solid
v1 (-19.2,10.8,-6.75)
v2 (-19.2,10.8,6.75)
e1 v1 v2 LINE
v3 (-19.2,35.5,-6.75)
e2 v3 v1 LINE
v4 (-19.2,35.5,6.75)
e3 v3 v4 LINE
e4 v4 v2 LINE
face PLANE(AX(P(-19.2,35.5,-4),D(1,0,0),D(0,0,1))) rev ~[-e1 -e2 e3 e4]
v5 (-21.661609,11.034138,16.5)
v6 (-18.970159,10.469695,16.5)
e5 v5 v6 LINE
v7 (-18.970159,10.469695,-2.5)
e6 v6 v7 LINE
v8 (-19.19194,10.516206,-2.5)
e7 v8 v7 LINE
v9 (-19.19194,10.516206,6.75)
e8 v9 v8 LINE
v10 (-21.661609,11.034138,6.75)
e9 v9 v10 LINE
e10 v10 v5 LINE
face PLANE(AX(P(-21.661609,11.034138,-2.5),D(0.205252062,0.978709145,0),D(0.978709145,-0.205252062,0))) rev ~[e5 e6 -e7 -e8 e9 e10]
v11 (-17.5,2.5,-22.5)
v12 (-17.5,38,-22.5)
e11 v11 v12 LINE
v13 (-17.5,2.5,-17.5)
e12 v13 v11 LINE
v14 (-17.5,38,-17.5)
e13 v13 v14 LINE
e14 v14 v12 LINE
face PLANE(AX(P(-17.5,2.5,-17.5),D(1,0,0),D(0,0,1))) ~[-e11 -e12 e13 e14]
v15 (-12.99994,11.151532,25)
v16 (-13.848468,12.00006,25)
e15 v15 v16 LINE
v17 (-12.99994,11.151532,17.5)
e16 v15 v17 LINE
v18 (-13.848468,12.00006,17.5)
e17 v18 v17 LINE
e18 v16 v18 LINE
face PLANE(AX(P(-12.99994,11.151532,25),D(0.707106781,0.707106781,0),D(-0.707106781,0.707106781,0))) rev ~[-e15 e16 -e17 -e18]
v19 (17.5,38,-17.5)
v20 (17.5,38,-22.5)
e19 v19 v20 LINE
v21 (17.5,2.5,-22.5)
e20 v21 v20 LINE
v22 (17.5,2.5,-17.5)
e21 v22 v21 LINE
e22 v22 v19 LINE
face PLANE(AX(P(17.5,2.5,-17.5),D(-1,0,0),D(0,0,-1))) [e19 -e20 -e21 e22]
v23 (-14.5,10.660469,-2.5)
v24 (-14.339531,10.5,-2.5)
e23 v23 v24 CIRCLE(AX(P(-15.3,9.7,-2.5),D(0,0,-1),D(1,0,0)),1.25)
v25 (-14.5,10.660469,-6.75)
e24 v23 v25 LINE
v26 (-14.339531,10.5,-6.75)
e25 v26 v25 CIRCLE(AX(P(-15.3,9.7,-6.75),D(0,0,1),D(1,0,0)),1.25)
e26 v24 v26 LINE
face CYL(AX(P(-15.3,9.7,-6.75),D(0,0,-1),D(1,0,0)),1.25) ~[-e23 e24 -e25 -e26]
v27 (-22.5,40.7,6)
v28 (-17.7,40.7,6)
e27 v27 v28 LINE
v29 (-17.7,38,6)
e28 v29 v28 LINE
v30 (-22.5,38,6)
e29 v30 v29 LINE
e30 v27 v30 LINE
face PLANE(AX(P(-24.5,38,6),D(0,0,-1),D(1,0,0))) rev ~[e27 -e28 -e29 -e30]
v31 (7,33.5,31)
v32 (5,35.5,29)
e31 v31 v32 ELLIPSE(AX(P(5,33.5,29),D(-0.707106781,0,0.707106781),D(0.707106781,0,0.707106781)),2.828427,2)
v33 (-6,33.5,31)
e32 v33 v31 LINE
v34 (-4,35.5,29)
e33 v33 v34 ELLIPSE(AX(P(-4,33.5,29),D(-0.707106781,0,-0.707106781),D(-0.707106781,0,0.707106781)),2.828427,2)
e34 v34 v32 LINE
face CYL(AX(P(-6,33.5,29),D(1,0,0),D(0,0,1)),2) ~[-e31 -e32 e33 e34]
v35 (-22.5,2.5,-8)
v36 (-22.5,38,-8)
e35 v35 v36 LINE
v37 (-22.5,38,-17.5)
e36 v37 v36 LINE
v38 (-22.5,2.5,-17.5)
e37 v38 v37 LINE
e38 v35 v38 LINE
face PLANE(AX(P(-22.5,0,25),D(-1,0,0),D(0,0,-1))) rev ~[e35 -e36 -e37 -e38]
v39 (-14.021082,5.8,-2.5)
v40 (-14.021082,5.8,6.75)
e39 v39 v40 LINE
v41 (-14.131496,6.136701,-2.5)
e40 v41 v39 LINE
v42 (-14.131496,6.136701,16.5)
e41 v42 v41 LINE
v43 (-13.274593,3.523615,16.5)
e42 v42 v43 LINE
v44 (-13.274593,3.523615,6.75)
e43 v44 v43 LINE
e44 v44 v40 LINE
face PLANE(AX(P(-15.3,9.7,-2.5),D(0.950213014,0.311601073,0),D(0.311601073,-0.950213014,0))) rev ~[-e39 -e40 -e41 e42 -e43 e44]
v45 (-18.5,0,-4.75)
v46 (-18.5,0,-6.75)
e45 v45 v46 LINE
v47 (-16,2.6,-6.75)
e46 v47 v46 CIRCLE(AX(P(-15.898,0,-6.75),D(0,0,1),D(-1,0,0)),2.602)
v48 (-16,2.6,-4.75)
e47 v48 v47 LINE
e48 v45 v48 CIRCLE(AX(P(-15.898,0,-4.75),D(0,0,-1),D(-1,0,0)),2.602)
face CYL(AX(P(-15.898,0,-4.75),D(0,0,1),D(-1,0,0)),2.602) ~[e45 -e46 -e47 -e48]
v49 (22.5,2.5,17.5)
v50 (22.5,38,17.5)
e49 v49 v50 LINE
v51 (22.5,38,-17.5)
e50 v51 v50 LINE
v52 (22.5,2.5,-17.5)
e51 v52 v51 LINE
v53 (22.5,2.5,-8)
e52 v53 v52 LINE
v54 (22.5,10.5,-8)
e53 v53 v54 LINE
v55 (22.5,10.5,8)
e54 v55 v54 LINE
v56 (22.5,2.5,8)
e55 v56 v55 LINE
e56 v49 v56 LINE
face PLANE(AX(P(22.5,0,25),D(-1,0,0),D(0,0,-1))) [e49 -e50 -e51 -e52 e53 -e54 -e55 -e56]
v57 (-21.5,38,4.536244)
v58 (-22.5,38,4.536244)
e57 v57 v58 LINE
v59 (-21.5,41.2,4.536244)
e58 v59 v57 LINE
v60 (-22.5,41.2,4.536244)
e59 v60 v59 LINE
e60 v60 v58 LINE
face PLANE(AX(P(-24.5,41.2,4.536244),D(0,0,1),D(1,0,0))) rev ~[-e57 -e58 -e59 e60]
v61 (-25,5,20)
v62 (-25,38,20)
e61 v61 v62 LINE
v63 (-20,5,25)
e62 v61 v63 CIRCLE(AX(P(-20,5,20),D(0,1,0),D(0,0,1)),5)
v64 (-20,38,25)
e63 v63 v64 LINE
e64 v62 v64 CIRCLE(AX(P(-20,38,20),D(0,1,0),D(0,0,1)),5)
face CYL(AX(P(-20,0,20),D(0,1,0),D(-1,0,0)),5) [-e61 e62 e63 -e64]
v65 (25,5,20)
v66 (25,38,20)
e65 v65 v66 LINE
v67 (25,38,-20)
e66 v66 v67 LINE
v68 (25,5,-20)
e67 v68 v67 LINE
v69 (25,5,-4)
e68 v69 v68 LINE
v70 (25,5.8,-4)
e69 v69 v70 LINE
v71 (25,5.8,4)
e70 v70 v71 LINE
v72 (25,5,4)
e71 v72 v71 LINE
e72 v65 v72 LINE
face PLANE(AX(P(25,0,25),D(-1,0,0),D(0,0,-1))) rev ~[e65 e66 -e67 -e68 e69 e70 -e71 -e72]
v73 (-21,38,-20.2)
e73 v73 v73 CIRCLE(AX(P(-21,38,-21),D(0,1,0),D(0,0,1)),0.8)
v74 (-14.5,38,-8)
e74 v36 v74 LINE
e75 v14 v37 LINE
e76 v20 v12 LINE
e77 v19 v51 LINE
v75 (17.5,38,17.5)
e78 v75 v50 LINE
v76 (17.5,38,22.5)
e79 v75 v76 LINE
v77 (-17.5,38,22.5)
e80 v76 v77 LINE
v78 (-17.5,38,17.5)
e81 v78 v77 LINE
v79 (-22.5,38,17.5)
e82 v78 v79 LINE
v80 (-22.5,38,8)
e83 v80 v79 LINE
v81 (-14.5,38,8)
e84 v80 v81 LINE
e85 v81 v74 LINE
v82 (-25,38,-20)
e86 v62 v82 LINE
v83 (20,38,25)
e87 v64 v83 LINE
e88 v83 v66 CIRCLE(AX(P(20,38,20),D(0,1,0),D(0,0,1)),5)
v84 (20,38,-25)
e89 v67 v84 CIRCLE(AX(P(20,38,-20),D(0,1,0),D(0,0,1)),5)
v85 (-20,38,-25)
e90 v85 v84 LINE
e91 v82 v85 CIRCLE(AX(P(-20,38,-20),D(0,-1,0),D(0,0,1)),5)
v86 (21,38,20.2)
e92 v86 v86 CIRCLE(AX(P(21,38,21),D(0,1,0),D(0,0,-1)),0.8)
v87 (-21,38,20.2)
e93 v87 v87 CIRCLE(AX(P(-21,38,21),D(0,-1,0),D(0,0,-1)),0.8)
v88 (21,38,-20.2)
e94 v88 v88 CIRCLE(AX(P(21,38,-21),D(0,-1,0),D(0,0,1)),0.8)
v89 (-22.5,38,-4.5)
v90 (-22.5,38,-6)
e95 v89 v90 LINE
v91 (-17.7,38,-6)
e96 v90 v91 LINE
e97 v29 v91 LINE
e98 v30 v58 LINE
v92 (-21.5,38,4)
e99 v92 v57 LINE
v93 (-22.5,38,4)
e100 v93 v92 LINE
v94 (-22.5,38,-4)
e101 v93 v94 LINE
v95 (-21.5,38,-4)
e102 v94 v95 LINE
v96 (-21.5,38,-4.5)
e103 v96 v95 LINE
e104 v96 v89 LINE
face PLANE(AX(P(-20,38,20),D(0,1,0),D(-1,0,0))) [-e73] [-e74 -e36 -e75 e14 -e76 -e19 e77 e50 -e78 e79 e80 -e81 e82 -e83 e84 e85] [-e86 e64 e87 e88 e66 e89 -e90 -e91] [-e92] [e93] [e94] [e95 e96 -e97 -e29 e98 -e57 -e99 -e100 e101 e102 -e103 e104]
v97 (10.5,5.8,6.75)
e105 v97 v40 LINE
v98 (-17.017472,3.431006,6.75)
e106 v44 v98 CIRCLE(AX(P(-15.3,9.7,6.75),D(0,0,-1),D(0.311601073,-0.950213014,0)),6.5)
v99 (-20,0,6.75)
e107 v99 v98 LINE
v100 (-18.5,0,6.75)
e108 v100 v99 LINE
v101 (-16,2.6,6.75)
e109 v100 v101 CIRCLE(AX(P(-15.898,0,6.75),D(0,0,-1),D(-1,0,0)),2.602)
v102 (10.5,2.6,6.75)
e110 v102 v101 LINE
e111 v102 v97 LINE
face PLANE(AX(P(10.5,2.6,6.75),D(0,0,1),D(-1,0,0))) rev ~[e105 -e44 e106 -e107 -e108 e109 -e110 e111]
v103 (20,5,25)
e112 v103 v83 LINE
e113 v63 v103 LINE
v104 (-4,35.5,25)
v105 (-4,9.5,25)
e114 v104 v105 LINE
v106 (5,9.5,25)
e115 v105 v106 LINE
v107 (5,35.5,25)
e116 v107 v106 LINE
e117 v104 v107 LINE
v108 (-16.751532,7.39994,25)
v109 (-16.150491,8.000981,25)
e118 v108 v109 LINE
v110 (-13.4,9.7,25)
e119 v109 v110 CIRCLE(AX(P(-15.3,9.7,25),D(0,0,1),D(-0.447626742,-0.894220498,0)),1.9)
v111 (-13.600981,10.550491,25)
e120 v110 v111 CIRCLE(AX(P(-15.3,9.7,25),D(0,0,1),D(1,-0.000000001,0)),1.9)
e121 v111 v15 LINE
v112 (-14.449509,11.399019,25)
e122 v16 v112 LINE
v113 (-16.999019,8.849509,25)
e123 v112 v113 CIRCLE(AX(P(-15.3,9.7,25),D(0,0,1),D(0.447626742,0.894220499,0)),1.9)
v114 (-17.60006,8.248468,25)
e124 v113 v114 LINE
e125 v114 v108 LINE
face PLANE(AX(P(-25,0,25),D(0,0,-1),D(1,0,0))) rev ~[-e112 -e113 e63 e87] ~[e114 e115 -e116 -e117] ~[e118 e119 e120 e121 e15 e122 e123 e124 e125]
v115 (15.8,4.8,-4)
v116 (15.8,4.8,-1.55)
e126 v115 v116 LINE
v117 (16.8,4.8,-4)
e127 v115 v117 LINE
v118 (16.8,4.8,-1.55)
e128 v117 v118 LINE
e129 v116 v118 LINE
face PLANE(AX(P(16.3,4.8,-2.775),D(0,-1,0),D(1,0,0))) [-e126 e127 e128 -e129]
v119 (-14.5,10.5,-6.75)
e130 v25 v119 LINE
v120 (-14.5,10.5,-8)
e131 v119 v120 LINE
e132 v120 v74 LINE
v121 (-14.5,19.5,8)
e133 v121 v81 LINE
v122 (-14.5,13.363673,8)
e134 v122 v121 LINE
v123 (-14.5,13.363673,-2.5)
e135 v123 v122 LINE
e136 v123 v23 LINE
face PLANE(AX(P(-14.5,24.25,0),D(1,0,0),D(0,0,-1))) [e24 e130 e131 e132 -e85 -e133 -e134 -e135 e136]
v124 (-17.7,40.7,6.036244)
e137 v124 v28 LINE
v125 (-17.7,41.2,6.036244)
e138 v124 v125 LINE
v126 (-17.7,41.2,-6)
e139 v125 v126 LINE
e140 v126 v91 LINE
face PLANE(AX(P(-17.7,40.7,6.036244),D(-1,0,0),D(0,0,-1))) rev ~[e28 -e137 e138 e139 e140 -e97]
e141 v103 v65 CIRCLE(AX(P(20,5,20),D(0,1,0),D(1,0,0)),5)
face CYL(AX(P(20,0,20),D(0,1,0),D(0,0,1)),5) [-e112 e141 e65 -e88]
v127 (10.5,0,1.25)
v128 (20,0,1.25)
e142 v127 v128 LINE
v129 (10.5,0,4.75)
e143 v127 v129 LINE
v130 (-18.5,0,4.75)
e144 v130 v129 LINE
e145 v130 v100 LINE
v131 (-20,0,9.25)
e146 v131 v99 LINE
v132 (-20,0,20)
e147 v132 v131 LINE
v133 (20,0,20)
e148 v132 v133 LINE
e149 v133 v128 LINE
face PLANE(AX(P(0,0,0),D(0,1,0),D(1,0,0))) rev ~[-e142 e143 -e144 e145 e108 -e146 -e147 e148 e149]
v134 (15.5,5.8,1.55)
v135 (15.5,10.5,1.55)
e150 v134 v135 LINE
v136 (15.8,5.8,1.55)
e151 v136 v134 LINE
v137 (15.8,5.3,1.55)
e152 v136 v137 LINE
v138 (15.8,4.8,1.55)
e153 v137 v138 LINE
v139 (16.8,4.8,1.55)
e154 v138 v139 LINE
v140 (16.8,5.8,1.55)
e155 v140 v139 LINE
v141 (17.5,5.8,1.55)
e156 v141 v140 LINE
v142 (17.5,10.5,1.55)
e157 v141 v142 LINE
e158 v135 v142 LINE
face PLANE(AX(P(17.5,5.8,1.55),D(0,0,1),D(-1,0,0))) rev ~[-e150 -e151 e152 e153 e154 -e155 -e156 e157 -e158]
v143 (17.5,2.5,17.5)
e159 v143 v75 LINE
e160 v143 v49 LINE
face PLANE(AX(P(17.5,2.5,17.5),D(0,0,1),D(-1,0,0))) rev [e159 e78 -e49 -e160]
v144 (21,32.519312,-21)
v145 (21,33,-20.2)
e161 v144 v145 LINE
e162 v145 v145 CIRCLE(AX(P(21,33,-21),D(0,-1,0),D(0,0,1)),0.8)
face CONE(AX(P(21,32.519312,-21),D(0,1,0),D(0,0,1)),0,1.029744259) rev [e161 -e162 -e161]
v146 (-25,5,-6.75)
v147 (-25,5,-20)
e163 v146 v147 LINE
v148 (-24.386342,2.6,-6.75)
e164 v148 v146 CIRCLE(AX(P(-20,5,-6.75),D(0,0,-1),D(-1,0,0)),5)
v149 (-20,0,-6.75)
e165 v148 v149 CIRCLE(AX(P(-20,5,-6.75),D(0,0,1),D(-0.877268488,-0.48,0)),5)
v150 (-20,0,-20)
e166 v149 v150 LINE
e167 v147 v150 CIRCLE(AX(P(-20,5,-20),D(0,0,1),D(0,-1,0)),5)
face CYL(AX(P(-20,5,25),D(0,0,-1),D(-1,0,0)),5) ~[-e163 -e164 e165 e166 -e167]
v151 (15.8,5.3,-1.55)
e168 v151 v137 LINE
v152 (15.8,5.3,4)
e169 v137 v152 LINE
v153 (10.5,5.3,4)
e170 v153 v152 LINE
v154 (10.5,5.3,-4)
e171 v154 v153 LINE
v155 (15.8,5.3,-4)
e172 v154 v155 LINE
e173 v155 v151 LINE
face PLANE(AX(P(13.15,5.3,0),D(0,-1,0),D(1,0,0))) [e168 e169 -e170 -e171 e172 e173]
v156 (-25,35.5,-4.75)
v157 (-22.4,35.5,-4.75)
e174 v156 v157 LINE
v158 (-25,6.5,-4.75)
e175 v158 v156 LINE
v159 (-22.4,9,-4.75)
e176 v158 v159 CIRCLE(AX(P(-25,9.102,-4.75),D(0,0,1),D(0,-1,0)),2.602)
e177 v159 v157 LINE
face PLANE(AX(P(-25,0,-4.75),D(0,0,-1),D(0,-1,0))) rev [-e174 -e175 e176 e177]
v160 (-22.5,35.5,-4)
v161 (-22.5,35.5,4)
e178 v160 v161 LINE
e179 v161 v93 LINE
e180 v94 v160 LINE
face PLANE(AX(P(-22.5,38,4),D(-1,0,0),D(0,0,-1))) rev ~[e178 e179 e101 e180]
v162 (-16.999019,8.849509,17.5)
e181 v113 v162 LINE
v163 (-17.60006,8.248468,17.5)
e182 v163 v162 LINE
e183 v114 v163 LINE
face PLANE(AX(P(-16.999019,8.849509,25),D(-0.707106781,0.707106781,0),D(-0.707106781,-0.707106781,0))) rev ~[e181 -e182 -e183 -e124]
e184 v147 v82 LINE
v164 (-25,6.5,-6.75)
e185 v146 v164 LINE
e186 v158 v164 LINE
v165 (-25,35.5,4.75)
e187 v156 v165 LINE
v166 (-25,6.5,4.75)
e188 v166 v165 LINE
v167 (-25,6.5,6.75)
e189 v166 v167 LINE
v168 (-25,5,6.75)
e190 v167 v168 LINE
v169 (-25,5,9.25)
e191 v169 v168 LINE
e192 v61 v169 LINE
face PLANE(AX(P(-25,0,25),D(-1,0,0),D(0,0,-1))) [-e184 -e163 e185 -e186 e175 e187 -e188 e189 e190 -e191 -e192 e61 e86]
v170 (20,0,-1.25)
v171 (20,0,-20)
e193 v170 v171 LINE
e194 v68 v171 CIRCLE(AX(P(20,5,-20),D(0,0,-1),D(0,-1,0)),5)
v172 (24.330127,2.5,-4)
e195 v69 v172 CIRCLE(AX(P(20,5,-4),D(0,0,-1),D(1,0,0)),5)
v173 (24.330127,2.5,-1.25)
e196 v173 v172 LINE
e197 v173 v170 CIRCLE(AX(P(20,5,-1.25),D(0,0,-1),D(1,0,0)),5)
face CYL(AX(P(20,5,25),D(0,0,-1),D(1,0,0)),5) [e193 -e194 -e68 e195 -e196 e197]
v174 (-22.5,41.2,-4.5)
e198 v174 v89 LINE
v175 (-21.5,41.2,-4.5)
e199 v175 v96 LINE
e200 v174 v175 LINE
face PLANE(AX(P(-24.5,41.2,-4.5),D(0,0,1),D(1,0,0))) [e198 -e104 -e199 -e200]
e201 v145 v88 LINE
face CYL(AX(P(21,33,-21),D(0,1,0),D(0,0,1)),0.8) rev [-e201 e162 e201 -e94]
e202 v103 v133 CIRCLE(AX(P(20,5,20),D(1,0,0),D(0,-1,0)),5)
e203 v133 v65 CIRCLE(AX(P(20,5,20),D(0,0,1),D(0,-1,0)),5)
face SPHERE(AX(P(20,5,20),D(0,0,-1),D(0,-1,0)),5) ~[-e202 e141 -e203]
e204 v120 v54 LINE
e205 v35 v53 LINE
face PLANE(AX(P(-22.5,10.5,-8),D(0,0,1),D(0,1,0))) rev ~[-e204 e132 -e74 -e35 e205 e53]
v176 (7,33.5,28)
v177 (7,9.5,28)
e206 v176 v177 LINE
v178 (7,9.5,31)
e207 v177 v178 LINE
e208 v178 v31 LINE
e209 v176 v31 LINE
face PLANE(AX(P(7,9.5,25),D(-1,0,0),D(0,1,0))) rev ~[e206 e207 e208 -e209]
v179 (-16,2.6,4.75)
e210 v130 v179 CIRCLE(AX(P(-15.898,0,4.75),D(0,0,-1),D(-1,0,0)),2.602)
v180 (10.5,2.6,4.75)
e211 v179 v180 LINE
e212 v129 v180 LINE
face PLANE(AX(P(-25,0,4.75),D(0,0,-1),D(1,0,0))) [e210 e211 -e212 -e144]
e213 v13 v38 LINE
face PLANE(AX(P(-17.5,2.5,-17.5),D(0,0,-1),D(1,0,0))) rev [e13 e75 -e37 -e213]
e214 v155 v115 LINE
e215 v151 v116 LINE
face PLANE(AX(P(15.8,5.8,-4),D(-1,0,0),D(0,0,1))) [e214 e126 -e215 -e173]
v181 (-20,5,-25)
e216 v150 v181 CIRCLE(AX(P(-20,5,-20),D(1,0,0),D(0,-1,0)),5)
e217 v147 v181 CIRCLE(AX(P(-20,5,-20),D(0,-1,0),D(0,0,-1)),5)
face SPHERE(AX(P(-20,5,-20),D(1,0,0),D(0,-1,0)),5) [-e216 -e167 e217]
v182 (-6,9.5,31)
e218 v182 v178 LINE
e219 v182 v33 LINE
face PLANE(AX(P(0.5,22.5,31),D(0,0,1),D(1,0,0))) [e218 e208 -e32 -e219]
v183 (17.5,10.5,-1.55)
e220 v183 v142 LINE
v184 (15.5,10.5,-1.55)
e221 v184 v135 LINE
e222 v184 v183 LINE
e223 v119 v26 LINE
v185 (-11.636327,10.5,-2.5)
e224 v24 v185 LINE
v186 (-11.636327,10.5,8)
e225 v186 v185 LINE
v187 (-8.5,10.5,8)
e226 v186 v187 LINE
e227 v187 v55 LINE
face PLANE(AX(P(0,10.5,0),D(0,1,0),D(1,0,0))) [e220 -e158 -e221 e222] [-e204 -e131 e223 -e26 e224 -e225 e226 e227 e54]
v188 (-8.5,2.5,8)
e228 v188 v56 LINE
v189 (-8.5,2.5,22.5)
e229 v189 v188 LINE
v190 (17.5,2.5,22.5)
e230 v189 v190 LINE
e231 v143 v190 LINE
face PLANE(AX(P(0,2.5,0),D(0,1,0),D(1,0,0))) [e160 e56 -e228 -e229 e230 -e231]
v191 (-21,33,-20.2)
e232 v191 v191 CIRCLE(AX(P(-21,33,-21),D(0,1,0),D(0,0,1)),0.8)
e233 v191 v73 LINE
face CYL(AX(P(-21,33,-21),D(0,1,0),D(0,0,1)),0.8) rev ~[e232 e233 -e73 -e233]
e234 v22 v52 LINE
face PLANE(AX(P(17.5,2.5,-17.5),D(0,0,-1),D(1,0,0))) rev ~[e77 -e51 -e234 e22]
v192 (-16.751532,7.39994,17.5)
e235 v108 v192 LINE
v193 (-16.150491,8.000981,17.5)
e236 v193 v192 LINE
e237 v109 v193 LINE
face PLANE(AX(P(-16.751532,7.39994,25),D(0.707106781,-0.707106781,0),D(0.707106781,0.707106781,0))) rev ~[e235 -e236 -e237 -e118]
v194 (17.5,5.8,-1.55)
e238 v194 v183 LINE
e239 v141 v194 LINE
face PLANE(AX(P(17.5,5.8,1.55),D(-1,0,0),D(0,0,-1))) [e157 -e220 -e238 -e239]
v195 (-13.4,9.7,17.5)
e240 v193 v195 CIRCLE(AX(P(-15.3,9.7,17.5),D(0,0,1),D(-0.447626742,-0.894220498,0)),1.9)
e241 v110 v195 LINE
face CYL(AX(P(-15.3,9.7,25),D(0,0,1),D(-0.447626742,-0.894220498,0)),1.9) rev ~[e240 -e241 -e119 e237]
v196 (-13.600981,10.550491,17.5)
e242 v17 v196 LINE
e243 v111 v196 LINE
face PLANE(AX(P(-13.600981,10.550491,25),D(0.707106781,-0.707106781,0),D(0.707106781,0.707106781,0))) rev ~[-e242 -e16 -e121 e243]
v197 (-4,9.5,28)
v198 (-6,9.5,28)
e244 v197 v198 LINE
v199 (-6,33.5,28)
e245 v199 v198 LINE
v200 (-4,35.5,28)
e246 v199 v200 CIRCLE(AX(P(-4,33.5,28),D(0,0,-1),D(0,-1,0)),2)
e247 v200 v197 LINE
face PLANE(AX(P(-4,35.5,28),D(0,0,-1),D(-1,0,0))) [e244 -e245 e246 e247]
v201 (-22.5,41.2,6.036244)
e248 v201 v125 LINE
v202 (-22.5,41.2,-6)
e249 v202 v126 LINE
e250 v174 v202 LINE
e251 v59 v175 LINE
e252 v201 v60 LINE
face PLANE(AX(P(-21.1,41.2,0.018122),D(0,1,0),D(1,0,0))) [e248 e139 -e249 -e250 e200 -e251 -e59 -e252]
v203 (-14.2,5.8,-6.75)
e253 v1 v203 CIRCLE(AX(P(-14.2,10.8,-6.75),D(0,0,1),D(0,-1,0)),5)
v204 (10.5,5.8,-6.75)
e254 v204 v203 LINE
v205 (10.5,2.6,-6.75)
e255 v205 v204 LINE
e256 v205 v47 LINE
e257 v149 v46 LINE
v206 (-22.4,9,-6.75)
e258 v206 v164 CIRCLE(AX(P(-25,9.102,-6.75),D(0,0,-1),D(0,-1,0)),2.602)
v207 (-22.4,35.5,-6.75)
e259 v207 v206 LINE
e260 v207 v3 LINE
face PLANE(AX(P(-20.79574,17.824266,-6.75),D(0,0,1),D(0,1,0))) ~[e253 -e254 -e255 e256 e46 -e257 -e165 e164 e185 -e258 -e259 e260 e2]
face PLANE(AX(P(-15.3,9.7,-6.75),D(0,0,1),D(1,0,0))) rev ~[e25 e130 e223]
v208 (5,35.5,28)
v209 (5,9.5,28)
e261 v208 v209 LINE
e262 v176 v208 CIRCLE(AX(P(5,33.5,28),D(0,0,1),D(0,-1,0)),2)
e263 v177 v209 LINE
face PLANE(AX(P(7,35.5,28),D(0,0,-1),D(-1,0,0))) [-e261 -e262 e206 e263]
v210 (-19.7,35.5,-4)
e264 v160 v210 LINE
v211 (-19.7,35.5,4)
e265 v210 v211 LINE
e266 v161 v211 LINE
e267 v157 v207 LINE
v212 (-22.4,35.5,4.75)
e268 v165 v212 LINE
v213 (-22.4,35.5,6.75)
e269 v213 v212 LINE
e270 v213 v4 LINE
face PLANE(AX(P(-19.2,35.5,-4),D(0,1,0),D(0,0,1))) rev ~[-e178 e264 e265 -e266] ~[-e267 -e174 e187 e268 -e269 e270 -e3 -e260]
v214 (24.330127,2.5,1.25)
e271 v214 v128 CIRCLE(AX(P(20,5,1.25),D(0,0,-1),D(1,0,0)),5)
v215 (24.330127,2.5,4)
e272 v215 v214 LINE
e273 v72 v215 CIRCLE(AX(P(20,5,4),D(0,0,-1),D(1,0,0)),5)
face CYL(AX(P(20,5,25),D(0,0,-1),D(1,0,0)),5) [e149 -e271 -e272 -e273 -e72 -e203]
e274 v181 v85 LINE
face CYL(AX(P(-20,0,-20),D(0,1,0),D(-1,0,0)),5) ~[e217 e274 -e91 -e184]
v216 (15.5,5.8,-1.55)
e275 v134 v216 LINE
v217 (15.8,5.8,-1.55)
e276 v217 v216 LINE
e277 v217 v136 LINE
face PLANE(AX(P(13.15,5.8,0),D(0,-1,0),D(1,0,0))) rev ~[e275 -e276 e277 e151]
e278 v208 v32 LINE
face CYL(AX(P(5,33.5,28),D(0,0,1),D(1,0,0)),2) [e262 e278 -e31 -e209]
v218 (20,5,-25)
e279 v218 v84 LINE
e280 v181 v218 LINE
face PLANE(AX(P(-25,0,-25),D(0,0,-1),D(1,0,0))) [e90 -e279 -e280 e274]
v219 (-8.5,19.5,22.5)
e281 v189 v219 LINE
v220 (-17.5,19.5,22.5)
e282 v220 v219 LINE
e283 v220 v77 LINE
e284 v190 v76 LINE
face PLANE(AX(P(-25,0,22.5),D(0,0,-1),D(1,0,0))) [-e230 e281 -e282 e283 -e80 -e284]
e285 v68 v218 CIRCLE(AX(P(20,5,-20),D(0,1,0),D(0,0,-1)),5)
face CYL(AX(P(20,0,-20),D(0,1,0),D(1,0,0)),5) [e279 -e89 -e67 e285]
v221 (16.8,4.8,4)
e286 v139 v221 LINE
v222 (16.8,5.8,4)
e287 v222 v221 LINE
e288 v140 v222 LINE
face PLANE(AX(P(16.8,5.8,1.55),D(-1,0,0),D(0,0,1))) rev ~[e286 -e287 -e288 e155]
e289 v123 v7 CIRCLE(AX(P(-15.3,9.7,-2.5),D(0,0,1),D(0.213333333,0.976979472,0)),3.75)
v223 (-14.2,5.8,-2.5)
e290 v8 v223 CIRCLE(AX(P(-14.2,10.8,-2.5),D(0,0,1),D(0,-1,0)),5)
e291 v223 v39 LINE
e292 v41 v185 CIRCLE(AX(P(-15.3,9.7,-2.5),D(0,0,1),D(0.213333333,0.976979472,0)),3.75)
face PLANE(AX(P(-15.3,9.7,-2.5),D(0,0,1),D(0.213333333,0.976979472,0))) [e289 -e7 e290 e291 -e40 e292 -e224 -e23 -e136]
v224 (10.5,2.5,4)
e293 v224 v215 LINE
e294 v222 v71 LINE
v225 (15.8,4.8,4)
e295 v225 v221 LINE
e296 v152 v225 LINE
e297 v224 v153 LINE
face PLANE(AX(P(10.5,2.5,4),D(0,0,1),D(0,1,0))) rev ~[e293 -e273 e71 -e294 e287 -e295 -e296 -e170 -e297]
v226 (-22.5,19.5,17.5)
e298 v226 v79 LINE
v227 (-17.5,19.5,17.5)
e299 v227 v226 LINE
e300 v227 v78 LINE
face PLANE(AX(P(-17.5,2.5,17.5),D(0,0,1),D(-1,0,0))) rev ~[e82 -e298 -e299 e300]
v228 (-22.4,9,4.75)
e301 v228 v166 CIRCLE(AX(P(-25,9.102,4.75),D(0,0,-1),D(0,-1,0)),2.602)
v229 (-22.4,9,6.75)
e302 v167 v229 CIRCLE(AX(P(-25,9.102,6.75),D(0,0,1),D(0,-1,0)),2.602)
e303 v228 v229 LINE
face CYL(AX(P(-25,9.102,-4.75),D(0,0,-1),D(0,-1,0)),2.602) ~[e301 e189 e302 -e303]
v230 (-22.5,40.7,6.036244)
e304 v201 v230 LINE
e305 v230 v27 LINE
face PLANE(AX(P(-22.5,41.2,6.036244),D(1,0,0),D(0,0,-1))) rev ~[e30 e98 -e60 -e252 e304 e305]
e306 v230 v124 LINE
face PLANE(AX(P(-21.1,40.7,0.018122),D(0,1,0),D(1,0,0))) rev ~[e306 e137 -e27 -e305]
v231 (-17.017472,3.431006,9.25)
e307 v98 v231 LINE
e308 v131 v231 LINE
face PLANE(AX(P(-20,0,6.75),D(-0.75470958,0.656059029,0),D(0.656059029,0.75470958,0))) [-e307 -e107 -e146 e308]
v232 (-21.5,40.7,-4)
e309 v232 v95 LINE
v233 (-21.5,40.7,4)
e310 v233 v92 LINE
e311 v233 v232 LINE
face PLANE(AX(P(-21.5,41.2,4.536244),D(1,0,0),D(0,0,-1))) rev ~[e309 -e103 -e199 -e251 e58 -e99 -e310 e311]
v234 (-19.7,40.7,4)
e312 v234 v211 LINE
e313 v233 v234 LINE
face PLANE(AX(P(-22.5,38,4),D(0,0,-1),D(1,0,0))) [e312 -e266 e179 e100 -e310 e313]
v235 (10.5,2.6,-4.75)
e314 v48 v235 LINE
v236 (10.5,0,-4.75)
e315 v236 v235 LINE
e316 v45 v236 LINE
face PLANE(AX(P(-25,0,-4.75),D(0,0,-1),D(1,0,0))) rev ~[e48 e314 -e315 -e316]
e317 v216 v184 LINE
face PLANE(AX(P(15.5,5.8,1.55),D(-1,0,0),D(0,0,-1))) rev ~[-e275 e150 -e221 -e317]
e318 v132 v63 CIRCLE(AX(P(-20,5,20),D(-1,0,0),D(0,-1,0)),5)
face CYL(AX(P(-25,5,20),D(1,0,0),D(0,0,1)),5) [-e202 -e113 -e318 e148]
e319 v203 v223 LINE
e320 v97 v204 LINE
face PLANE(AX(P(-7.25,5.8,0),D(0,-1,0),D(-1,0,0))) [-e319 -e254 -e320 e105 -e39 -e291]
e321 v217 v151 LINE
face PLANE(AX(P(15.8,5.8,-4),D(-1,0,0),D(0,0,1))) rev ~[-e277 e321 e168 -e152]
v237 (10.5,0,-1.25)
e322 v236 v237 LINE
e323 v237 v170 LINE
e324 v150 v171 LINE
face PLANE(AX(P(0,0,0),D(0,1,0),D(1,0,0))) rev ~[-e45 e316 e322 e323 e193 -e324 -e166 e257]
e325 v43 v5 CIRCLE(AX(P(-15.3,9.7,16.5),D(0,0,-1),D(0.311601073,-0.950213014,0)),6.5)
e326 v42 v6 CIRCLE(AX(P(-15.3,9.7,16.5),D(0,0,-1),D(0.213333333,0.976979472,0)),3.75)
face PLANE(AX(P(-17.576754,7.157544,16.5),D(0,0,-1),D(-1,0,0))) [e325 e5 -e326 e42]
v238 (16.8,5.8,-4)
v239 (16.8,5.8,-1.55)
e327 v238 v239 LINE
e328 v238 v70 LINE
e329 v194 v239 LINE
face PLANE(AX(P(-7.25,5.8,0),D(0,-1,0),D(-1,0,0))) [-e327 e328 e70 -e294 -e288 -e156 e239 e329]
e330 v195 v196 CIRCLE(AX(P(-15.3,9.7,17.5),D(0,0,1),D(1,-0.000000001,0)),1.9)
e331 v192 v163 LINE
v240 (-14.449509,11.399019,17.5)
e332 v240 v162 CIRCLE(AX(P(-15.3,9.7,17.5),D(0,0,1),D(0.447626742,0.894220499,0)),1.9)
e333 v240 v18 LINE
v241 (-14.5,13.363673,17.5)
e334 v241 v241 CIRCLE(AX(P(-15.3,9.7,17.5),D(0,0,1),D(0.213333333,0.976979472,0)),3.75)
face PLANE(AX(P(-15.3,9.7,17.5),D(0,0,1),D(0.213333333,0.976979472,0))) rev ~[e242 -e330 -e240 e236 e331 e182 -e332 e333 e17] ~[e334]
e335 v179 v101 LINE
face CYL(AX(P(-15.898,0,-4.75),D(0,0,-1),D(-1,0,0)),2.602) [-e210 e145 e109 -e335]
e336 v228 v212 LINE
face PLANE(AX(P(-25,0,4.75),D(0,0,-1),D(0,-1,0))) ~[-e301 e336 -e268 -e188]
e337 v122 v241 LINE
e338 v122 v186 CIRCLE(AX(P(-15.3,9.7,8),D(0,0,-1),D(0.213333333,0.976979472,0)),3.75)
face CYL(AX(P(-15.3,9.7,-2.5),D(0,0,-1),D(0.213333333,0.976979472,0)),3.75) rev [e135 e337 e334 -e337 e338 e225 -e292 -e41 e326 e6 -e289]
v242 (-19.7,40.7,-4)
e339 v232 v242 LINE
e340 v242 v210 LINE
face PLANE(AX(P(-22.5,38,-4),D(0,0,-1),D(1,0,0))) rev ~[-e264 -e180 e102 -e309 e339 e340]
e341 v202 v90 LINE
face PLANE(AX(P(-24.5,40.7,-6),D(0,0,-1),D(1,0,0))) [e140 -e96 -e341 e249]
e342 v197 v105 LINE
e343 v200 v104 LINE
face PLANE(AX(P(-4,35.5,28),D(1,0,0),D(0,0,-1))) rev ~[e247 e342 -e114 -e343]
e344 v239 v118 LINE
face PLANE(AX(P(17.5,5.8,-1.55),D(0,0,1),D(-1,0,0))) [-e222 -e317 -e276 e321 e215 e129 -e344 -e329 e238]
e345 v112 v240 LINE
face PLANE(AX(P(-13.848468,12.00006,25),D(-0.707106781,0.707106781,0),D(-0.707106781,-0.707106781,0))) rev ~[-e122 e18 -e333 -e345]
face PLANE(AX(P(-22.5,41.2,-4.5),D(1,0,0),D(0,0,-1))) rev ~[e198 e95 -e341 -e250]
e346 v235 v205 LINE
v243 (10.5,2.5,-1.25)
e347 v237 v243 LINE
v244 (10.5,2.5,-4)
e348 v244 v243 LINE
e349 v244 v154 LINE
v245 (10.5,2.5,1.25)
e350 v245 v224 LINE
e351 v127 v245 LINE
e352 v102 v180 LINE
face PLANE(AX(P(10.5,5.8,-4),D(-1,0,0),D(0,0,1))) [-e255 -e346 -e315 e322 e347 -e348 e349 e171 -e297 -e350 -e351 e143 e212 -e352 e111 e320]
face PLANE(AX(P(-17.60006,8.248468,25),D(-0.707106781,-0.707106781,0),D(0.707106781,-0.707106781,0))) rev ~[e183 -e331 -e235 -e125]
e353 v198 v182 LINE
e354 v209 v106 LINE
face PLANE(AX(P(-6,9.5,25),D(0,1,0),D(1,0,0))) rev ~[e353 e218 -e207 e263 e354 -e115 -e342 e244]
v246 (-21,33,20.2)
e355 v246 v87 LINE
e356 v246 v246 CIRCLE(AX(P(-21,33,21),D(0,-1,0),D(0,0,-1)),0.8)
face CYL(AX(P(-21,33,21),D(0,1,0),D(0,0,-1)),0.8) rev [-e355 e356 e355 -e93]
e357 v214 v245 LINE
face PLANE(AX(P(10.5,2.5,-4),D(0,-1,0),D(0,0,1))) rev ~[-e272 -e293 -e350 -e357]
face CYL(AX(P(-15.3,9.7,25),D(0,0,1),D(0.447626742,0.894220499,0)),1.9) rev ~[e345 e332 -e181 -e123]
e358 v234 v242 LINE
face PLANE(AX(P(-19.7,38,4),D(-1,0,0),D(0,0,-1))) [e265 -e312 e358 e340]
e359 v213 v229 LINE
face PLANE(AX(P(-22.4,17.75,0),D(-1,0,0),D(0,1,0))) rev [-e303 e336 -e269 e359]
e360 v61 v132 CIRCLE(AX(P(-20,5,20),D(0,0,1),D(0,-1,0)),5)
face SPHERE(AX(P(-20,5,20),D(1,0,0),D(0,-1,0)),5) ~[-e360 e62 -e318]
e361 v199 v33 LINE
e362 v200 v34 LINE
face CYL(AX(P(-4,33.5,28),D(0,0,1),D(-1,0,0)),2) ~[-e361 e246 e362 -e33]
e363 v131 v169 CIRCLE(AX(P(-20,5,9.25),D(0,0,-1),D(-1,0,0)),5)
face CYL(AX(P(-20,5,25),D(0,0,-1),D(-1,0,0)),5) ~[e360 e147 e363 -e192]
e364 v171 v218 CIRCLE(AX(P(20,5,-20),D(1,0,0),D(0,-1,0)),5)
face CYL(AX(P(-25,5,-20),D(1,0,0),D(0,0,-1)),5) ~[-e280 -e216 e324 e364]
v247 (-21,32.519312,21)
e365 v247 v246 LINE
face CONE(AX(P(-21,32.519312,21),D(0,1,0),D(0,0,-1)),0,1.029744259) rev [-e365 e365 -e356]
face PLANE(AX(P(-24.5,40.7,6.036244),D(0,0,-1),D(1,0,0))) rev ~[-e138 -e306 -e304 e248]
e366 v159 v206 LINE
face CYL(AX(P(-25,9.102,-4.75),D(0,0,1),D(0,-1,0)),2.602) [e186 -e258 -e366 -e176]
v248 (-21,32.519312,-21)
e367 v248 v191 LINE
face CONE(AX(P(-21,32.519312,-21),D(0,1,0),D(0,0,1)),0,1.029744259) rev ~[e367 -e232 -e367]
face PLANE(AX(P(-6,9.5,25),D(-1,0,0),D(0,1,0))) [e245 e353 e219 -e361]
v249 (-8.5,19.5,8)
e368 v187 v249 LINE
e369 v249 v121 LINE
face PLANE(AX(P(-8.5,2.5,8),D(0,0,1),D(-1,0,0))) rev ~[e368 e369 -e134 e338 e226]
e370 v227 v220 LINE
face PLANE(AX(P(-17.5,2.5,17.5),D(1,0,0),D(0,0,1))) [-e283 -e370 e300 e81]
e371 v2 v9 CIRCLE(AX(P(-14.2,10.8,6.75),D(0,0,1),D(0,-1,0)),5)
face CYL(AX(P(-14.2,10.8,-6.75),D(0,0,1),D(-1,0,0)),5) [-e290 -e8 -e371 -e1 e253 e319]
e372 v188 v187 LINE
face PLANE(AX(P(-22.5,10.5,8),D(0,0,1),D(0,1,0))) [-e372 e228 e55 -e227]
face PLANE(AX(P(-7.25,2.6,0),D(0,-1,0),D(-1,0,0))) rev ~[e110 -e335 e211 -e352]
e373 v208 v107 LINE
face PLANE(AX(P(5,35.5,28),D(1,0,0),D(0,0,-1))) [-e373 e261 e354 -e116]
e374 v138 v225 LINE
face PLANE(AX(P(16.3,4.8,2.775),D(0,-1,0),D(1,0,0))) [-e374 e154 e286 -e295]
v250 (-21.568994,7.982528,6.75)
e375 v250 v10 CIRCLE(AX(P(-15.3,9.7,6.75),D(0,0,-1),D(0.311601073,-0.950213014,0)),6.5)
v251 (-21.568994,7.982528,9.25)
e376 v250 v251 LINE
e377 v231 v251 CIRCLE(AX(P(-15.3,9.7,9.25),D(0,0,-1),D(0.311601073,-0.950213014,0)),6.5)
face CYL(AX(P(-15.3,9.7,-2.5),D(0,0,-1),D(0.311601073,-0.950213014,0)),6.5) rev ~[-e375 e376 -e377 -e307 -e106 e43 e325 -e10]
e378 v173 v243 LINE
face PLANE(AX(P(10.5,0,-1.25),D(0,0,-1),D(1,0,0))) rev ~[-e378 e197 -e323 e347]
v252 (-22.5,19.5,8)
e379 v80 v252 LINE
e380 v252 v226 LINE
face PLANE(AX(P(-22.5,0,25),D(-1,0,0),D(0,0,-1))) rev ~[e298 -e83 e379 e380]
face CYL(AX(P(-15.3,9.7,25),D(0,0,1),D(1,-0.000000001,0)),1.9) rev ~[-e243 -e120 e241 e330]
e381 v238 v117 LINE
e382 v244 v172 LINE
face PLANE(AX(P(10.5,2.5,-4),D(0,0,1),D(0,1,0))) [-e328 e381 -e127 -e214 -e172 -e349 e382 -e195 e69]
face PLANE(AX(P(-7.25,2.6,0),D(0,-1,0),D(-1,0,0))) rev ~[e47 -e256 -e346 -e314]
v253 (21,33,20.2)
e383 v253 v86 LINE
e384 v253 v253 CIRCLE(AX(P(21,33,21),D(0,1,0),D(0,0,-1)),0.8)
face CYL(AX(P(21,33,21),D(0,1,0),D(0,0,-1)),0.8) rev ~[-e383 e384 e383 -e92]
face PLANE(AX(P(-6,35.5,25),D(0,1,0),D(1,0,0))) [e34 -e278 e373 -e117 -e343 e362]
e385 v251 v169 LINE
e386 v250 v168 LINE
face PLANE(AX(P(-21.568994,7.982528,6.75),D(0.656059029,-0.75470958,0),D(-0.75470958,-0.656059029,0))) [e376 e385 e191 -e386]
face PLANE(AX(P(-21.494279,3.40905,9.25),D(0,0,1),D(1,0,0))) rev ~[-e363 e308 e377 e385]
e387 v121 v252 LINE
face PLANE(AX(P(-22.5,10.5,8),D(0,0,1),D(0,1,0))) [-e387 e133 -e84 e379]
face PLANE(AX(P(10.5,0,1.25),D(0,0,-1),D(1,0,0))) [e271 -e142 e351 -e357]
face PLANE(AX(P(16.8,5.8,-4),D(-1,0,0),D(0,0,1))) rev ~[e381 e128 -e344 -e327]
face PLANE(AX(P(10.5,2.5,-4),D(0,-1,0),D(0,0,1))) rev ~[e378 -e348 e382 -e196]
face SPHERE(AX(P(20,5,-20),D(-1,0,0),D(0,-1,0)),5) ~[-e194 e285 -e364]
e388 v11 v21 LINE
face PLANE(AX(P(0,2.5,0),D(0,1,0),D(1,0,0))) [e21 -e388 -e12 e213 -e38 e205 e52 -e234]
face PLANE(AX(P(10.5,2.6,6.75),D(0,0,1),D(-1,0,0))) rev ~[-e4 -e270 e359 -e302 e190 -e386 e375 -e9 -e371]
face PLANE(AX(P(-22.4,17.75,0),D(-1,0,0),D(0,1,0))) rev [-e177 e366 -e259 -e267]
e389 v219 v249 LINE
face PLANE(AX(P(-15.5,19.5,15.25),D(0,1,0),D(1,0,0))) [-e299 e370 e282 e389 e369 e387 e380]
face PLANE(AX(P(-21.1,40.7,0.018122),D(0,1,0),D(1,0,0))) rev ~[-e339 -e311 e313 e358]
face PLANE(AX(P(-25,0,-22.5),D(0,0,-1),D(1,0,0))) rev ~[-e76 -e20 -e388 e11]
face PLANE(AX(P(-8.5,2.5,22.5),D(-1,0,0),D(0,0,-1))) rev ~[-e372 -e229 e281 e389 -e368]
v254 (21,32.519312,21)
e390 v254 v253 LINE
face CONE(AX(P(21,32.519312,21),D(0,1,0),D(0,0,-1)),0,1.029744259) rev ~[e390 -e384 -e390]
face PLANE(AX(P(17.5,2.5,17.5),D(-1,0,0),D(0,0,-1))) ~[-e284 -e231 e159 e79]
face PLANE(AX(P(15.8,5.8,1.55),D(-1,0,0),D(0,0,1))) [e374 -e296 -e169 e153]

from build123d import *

# Parameters (mm, degrees)
SKETCH1_W                          = 50
SKETCH1_H                          = 50
BASE_SHELL_DEPTH                   = 38
SHELL1_T                           = -2.5
FILLET1_R                          = 5
SKETCH2_W                          = 13
SKETCH2_H                          = 26
LOCK_CONNECTOR_EXTRUDE_DEPTH       = 6
SKETCH3_W                          = 3
SKETCH3_H                          = 2
LOCK_CONNECTOR_CUT_DEPTH           = 54.350257731
LOCK_CONNECTOR_FILLET_R            = 2
SKETCH8_W                          = 45
SKETCH8_H                          = 16
BOTTOM_CONNECTOR_INSIDE_DEPTH      = 8
SKETCH10_W                         = 35.5
SKETCH10_H                         = 9.5
BOTTOM_FEMALE_BOTTOM_CUT_DEPTH     = 2.6
SKETCH7_W                          = 35.5
SKETCH7_H                          = 13.5
BOTTOM_FEMALE_TOP_CUT_DEPTH        = 3.2
ROUNDED_ENTRANCE_REACH             = 59.854
ROUNDED_ENTRANCE_DIRECTION_2_REACH = 59.854
SKETCH22_W                         = 8
SKETCH22_H                         = 3.3
HEADER_PIN_CUT_DEPTH               = 61.541308212
HEADER_PIN_HOLDER_REACH            = 57.045
SKETCH23_W                         = 14.435585072
SKETCH23_H                         = 2.5
SKETCH25_W                         = 2
SKETCH25_H                         = 3.1
WIRE_CUT_DEPTH                     = 52.21367005
SKETCH57_W                         = 1
SKETCH57_H                         = 2.45
PIN_STOPPER_DEPTH                  = 1
SKETCH15_W                         = 16
SKETCH15_H                         = 27.5
SIDE_CONNECTOR_INSIDE_DEPTH        = 8
SKETCH58_W                         = 3.3
SKETCH58_H                         = 8
SIDE_POGO_GAP_DEPTH                = 54.350257731
SKETCH60_W                         = 8
SKETCH60_H                         = 2.5
SIDE_POGO_SUPPORT_DEPTH            = 0.5
SKETCH14_R                         = 1.25
LOCK_BOTTOM_SUPPORT_DEPTH          = 4.5
SKETCH27_W                         = 5
SKETCH27_H                         = 5
SCREW_PILLAR_DEPTH                 = 35.5
MIRROR2_COPY_1_SKETCH_W            = 5
MIRROR2_COPY_1_SKETCH_H            = 5
MIRROR2_COPY_1_DEPTH               = 35.5
LOCK_SUPPORT_DEPTH                 = 17
LOCK_CUT_DEPTH                     = 19.5
SKETCH11_R                         = 3.75
SPRING_GAP_DEPTH                   = 20
FLANG_GAP_DEPTH                    = 19
FLANG_SCREW_CUT_DEPTH              = 2.5
FILLET2_R                          = 5
SKETCH59_W                         = 5.3
SKETCH59_H                         = 8
BOTTOM_POGO_SUPPORT_DEPTH          = 0.5
SKETCH62_W                         = 6.8
SKETCH62_H                         = 12
SKETCH62_W_2                       = 2.8
SKETCH62_H_2                       = 8
SIDE_POGO_HOLDER_DEPTH             = 2.7
SKETCH63_W                         = 6.8
SKETCH63_H                         = 12.036243668
SIDE_POGO_TOP_DEPTH                = 0.5
SIDE_POGO_HOLE_REACH               = 59.301
SKETCH64_W                         = 3
SKETCH64_H                         = 9.036243668
SKETCH65_W                         = 2
SKETCH65_H                         = 1.5
CUT_EXTRUDE8_DEPTH                 = 3.2


with BuildPart() as part:
    # Sketch1 → base shell (new body)
    with BuildSketch(Plane(origin=(0, 0, 0), x_dir=(1, 0, 0), z_dir=(0, 1, 0))):
        Rectangle(SKETCH1_W, SKETCH1_H)
    extrude(amount=BASE_SHELL_DEPTH)

    # Shell1
    shell1_openings = [part.faces().sort_by_distance(p)[0] for p in [
        (0, 38, 0),
    ]]
    offset(amount=SHELL1_T, openings=shell1_openings, kind=Kind.INTERSECTION)

    # Fillet1
    fillet1_edges = [part.edges().sort_by_distance(p)[0] for p in [
        (0, 0, -25),
        (25, 0, 0),
        (0, 0, 25),
        (-25, 0, 0),
        (-25, 19, -25),
        (25, 19, -25),
        (25, 19, 25),
        (-25, 19, 25),
    ]]
    fillet(fillet1_edges, radius=FILLET1_R)

    # Sketch2 → lock connector extrude (add)
    with BuildSketch(Plane.XY.offset(25)):
        with Locations((0.5, 22.5)):
            Rectangle(SKETCH2_W, SKETCH2_H)
    extrude(amount=LOCK_CONNECTOR_EXTRUDE_DEPTH)

    # Sketch3 → lock connector cut (cut, through all)
    with BuildSketch(Plane(origin=(0, 35.5, 0), x_dir=(0, 0, -1), z_dir=(0, 1, 0))):
        with Locations((-26.5, -6)):
            Rectangle(SKETCH3_W, SKETCH3_H)
        with Locations((-26.5, 5)):
            Rectangle(SKETCH3_W, SKETCH3_H)
    extrude(amount=-LOCK_CONNECTOR_CUT_DEPTH, mode=Mode.SUBTRACT)

    # lock connector fillet
    lock_connector_fillet_edges = [part.edges().sort_by_distance(p)[0] for p in [
        (7, 35.5, 29.5),
        (-6, 35.5, 29.5),
        (0.5, 35.5, 31),
    ]]
    fillet(lock_connector_fillet_edges, radius=LOCK_CONNECTOR_FILLET_R)

    # Sketch8 → bottom connector inside (add)
    with BuildSketch(Plane(origin=(0, 2.5, 0), x_dir=(1, 0, 0), z_dir=(0, 1, 0))):
        Rectangle(SKETCH8_W, SKETCH8_H)
    extrude(amount=BOTTOM_CONNECTOR_INSIDE_DEPTH)

    # Sketch10 → bottom female bottom cut (cut)
    with BuildSketch(Plane.XZ):
        with Locations((-7.25, 0)):
            Rectangle(SKETCH10_W, SKETCH10_H)
    bottom_female_bottom_cut = extrude(amount=-BOTTOM_FEMALE_BOTTOM_CUT_DEPTH, mode=Mode.SUBTRACT)

    # Sketch7 → bottom female top cut (cut)
    with BuildSketch(Plane(origin=(0, 2.6, 0), x_dir=(-1, 0, 0), z_dir=(0, -1, 0))):
        with Locations((7.25, 0)):
            Rectangle(SKETCH7_W, SKETCH7_H)
    bottom_female_top_cut = extrude(amount=-BOTTOM_FEMALE_TOP_CUT_DEPTH, mode=Mode.SUBTRACT)

    # rounded entrance: up to this face of the body (flat: up to its plane)
    rounded_entrance_end = Plane(part.part.faces().sort_by_distance((-7.175733888, 4.204259527, -6.75))[0])
    # Sketch26 → rounded entrance (cut, up to the picked face)
    with BuildSketch(Plane.XY.offset(-4.75), mode=Mode.PRIVATE) as rounded_entrance_sk1:
        with BuildLine():
            Line((-16, 2.6), (-24.38634244, 2.6))
            ThreePointArc((-24.38634244, 2.6), (-22.549509757, 0.698837366), (-20, 0))
            Line((-20, 0), (-18.5, 0))
            ThreePointArc((-18.5, 0), (-17.773607635, 1.80346888), (-16, 2.6))
        make_face()
    rounded_entrance_tool1 = split(extrude(rounded_entrance_sk1.sketch, amount=-ROUNDED_ENTRANCE_REACH, mode=Mode.PRIVATE), bisect_by=rounded_entrance_end, keep=Keep.BOTH, mode=Mode.PRIVATE)
    rounded_entrance = rounded_entrance_tool1.solids().sort_by(Axis((-20.596969, 1.517539, -4.75), (0, 0, -1)))[0]
    add(rounded_entrance, mode=Mode.SUBTRACT)

    # rounded entrance direction 2: up to this face of the body (flat: up to its plane)
    rounded_entrance_direction_2_end = Plane(part.part.faces().sort_by_distance((-7.175733888, 4.204259527, 6.75))[0])
    # Sketch26 → rounded entrance direction 2 (cut, up to the picked face)
    with BuildSketch(Plane.XY.offset(-4.75), mode=Mode.PRIVATE) as rounded_entrance_direction_2_sk1:
        with BuildLine():
            Line((-16, 2.6), (-24.38634244, 2.6))
            ThreePointArc((-24.38634244, 2.6), (-22.549509757, 0.698837366), (-20, 0))
            Line((-20, 0), (-18.5, 0))
            ThreePointArc((-18.5, 0), (-17.773607635, 1.80346888), (-16, 2.6))
        make_face()
    rounded_entrance_direction_2_tool1 = split(extrude(rounded_entrance_direction_2_sk1.sketch, amount=ROUNDED_ENTRANCE_DIRECTION_2_REACH, mode=Mode.PRIVATE), bisect_by=rounded_entrance_direction_2_end, keep=Keep.BOTH, mode=Mode.PRIVATE)
    rounded_entrance_direction_2 = rounded_entrance_direction_2_tool1.solids().sort_by(Axis((-20.596969, 1.517539, -4.75), (0, 0, 1)))[0]
    add(rounded_entrance_direction_2, mode=Mode.SUBTRACT)

    # Sketch22 → header pin cut (cut, through all)
    with BuildSketch(Plane.ZY.offset(-10.5)):
        with Locations((0, 4.15)):
            Rectangle(SKETCH22_W, SKETCH22_H)
    extrude(amount=-HEADER_PIN_CUT_DEPTH, mode=Mode.SUBTRACT)

    # Sketch23 → header pin holder (cut, up to next)
    with BuildSketch(Plane.XZ, mode=Mode.PRIVATE) as header_pin_holder_sk1:
        with Locations((17.717792536, 0)):
            Rectangle(SKETCH23_W, SKETCH23_H)
    header_pin_holder_tool1 = extrude(header_pin_holder_sk1.sketch, amount=-HEADER_PIN_HOLDER_REACH, mode=Mode.PRIVATE) & part.part
    add(header_pin_holder_tool1.solids().sort_by_distance((17.717793, 0, 0))[0], mode=Mode.SUBTRACT)

    # Sketch25 → wire cut (cut, through all)
    with BuildSketch(Plane(origin=(0, 5.8, 0), x_dir=(-1, 0, 0), z_dir=(0, -1, 0))):
        with Locations((-16.5, 0)):
            Rectangle(SKETCH25_W, SKETCH25_H)
    extrude(amount=-WIRE_CUT_DEPTH, mode=Mode.SUBTRACT)

    # Sketch57 → pin stopper (add)
    with BuildSketch(Plane.XZ.offset(-5.8)):
        with Locations((16.3, 2.775)):
            Rectangle(SKETCH57_W, SKETCH57_H)
        with Locations((16.3, -2.775)):
            Rectangle(SKETCH57_W, SKETCH57_H)
    extrude(amount=PIN_STOPPER_DEPTH)

    # Sketch15 → side connector inside (add)
    with BuildSketch(Plane(origin=(-22.5, 0, 0), x_dir=(0, 0, -1), z_dir=(1, 0, 0))):
        with Locations((0, 24.25)):
            Rectangle(SKETCH15_W, SKETCH15_H)
    extrude(amount=SIDE_CONNECTOR_INSIDE_DEPTH)

    # side connector mirror: bottom female bottom cut, bottom female top cut, rounded entrance, rounded entrance direction 2 across plane
    add(bottom_female_bottom_cut.mirror(Plane(origin=(-12.5, 12.5, 0), x_dir=(0, 0, 1), z_dir=(0.7071067811865488, -0.7071067811865464, 0))), mode=Mode.SUBTRACT)
    add(bottom_female_top_cut.mirror(Plane(origin=(-12.5, 12.5, 0), x_dir=(0, 0, 1), z_dir=(0.7071067811865488, -0.7071067811865464, 0))), mode=Mode.SUBTRACT)
    add(rounded_entrance.mirror(Plane(origin=(-12.5, 12.5, 0), x_dir=(0, 0, 1), z_dir=(0.7071067811865488, -0.7071067811865464, 0))), mode=Mode.SUBTRACT)
    add(rounded_entrance_direction_2.mirror(Plane(origin=(-12.5, 12.5, 0), x_dir=(0, 0, 1), z_dir=(0.7071067811865488, -0.7071067811865464, 0))), mode=Mode.SUBTRACT)

    # Sketch58 → side pogo gap (cut, through all)
    with BuildSketch(Plane.XZ.offset(-35.5)):
        with Locations((-20.85, 0)):
            Rectangle(SKETCH58_W, SKETCH58_H)
    extrude(amount=-SIDE_POGO_GAP_DEPTH, mode=Mode.SUBTRACT)

    # Sketch60 → side pogo support (add)
    with BuildSketch(Plane.ZY.offset(19.2)):
        with Locations((0, 36.75)):
            Rectangle(SKETCH60_W, SKETCH60_H)
    extrude(amount=SIDE_POGO_SUPPORT_DEPTH)

    # Sketch14 → Lock bottom support (add)
    with BuildSketch(Plane.XY.offset(-6.75)):
        with Locations((-15.3, 9.7)):
            Circle(SKETCH14_R)
    extrude(amount=LOCK_BOTTOM_SUPPORT_DEPTH)

    # Sketch27 → screw pillar (add)
    with BuildSketch(Plane(origin=(0, 2.5, 0), x_dir=(1, 0, 0), z_dir=(0, 1, 0))):
        with Locations((20, 20)):
            Rectangle(SKETCH27_W, SKETCH27_H)
    screw_pillar = extrude(amount=SCREW_PILLAR_DEPTH)

    # Sketch29 → M2 Tapped Hole1 (revolve, cut)
    with BuildSketch(Plane(origin=(21, 38, -21), x_dir=(0, 0, 1), z_dir=(1, 0, 0))):
        Polygon((0, 0), (0, 5.480688495), (0.8, 5), (0.8, 0), align=None)
    m2_tapped_hole1 = revolve(axis=Axis((21, 44.35, -21), (0, -1, 0)), mode=Mode.SUBTRACT)

    # Mirror1: screw pillar, M2 Tapped Hole1 across plane
    add(screw_pillar.mirror(Plane(origin=(0, 0, 0), x_dir=(0, 0, 1), z_dir=(1, 0, 0))))
    add(m2_tapped_hole1.mirror(Plane(origin=(0, 0, 0), x_dir=(0, 0, 1), z_dir=(1, 0, 0))), mode=Mode.SUBTRACT)

    # Mirror2: screw pillar, M2 Tapped Hole1 across plane
    add(screw_pillar.mirror(Plane.XY))
    add(m2_tapped_hole1.mirror(Plane.XY), mode=Mode.SUBTRACT)

    # Mirror2 copy 1 sketch → Mirror2 copy 1 (add)
    with BuildSketch(Plane(origin=(0, 2.5, 0), x_dir=(-1, 0, 0), z_dir=(0, 1, 0))):
        with Locations((20, 20)):
            Rectangle(MIRROR2_COPY_1_SKETCH_W, MIRROR2_COPY_1_SKETCH_H)
    extrude(amount=MIRROR2_COPY_1_DEPTH)

    # Mirror2 copy 2 sketch → Mirror2 copy 2 (revolve, cut)
    with BuildSketch(Plane(origin=(-21, 38, 21), x_dir=(0, 0, -1), z_dir=(-1, 0, 0))):
        Polygon((0, 0), (0, 5.480688495), (0.8, 5), (0.8, 0), align=None)
    revolve(axis=Axis((-21, 44.35, 21), (0, -1, 0)), mode=Mode.SUBTRACT)

    # Sketch41 → lock support (add)
    with BuildSketch(Plane(origin=(0, 2.5, 0), x_dir=(1, 0, 0), z_dir=(0, 1, 0))):
        Polygon((-22.5, -22.5), (-8.5, -22.5), (-8.5, -8), (-22.5, -8), (-22.5, -17), align=None)
    extrude(amount=LOCK_SUPPORT_DEPTH)

    # Sketch6 → lock cut (cut)
    with BuildSketch(Plane.XY.offset(25)):
        with BuildLine():
            ThreePointArc((-16.15049081, 8.000981053), (-16.643502884, 8.356497116), (-16.999018947, 8.84950919))
            Line((-16.999018947, 8.84950919), (-17.600059711, 8.248468426))
            Line((-17.600059711, 8.248468426), (-16.751531574, 7.399940289))
            Line((-16.751531574, 7.399940289), (-16.15049081, 8.000981053))
        make_face()
        with BuildLine():
            ThreePointArc((-14.44950919, 11.399018947), (-13.956497116, 11.043502884), (-13.600981053, 10.55049081))
            Line((-13.600981053, 10.55049081), (-12.999940289, 11.151531574))
            Line((-12.999940289, 11.151531574), (-13.848468426, 12.000059711))
            Line((-13.848468426, 12.000059711), (-14.44950919, 11.399018947))
        make_face()
        with BuildLine():
            ThreePointArc((-13.4, 9.7), (-13.4509278, 10.136957664), (-13.600981053, 10.55049081))
            ThreePointArc((-13.600981053, 10.55049081), (-13.956497116, 11.043502884), (-14.44950919, 11.399018947))
            ThreePointArc((-14.44950919, 11.399018947), (-16.643502884, 11.043502884), (-16.999018947, 8.84950919))
            ThreePointArc((-16.999018947, 8.84950919), (-16.643502884, 8.356497116), (-16.15049081, 8.000981053))
            ThreePointArc((-16.15049081, 8.000981053), (-14.301484236, 8.083532781), (-13.4, 9.7))
        make_face()
    extrude(amount=-LOCK_CUT_DEPTH, mode=Mode.SUBTRACT)

    # Sketch11 → Spring gap (cut)
    with BuildSketch(Plane.XY.offset(-2.5)):
        with Locations(Location((-15.3, 9.7, 0), (0, 0, 77.682234017))):
            Circle(SKETCH11_R)
    extrude(amount=SPRING_GAP_DEPTH, mode=Mode.SUBTRACT)

    # Sketch12 → Flang gap (cut)
    with BuildSketch(Plane.XY.offset(-2.5)):
        with BuildLine():
            Line((-15.3, 9.7), (-13.274593025, 3.523615411))
            ThreePointArc((-13.274593025, 3.523615411), (-19.63620247, 4.857753812), (-21.661609445, 11.034138401))
            Line((-21.661609445, 11.034138401), (-15.3, 9.7))
        make_face()
    extrude(amount=FLANG_GAP_DEPTH, mode=Mode.SUBTRACT)

    # Sketch52 → flang screw cut (cut)
    with BuildSketch(Plane(origin=(0, 0, 6.75), x_dir=(-1, 0, 0), z_dir=(0, 0, -1))):
        with BuildLine():
            Line((21.568994271, 7.982527778), (25, 5))
            add(Edge.make_bspline(
                [(25, 5), (26.808053779, 2.347485232), (22.598490609, -3.321737418), (20, 0)],
                knots=[0, 0, 0, 0, 1, 1, 1, 1], degree=3))
            Line((20, 0), (17.017472222, 3.431005729))
            Line((17.017472222, 3.431005729), (21.568994271, 7.982527778))
        make_face()
    extrude(amount=-FLANG_SCREW_CUT_DEPTH, mode=Mode.SUBTRACT)

    # Fillet2
    fillet2_edges = [part.edges().sort_by_distance(p)[0] for p in [
        (-19.2, 5.8, -4.625),
    ]]
    fillet(fillet2_edges, radius=FILLET2_R)

    # Sketch59 → bottom pogo support (add)
    with BuildSketch(Plane.XZ.offset(-5.8)):
        with Locations((13.15, 0)):
            Rectangle(SKETCH59_W, SKETCH59_H)
    extrude(amount=BOTTOM_POGO_SUPPORT_DEPTH)

    # Sketch62 → side pogo holder (add)
    with BuildSketch(Plane(origin=(0, 38, 0), x_dir=(1, 0, 0), z_dir=(0, 1, 0))):
        with Locations((-21.1, 0)):
            Rectangle(SKETCH62_W, SKETCH62_H)
        with Locations((-21.1, 0)):
            Rectangle(SKETCH62_W_2, SKETCH62_H_2, mode=Mode.SUBTRACT)
    extrude(amount=SIDE_POGO_HOLDER_DEPTH)

    # Sketch63 → side pogo top (add)
    with BuildSketch(Plane(origin=(0, 40.7, 0), x_dir=(1, 0, 0), z_dir=(0, 1, 0))):
        with Locations((-21.1, -0.018121834)):
            Rectangle(SKETCH63_W, SKETCH63_H)
    extrude(amount=SIDE_POGO_TOP_DEPTH)

    # side pogo hole: up to this face of the body (flat: up to its plane)
    side_pogo_hole_end = Plane(part.part.faces().sort_by_distance((0, 38, -24.292893219))[0])
    # Sketch64 → side pogo hole (cut, up to the picked face)
    with BuildSketch(Plane(origin=(0, 41.2, 0), x_dir=(1, 0, 0), z_dir=(0, 1, 0)), mode=Mode.PRIVATE) as side_pogo_hole_sk1:
        with Locations((-23, -0.018121834)):
            Rectangle(SKETCH64_W, SKETCH64_H)
    side_pogo_hole_tool1 = split(extrude(side_pogo_hole_sk1.sketch, amount=-SIDE_POGO_HOLE_REACH, mode=Mode.PRIVATE), bisect_by=side_pogo_hole_end, keep=Keep.BOTH, mode=Mode.PRIVATE)
    add(side_pogo_hole_tool1.solids().sort_by(Axis((-23, 41.2, 0.018122), (0, -1, 0)))[0], mode=Mode.SUBTRACT)

    # Sketch65 → Cut-Extrude8 (cut)
    with BuildSketch(Plane(origin=(0, 41.2, 0), x_dir=(1, 0, 0), z_dir=(0, 1, 0))):
        with Locations((-23.5, -5.286243668)):
            Rectangle(SKETCH65_W, SKETCH65_H)
        with Locations((-23.5, 5.25)):
            Rectangle(SKETCH65_W, SKETCH65_H)
    extrude(amount=-CUT_EXTRUDE8_DEPTH, mode=Mode.SUBTRACT)


solid = part.part
